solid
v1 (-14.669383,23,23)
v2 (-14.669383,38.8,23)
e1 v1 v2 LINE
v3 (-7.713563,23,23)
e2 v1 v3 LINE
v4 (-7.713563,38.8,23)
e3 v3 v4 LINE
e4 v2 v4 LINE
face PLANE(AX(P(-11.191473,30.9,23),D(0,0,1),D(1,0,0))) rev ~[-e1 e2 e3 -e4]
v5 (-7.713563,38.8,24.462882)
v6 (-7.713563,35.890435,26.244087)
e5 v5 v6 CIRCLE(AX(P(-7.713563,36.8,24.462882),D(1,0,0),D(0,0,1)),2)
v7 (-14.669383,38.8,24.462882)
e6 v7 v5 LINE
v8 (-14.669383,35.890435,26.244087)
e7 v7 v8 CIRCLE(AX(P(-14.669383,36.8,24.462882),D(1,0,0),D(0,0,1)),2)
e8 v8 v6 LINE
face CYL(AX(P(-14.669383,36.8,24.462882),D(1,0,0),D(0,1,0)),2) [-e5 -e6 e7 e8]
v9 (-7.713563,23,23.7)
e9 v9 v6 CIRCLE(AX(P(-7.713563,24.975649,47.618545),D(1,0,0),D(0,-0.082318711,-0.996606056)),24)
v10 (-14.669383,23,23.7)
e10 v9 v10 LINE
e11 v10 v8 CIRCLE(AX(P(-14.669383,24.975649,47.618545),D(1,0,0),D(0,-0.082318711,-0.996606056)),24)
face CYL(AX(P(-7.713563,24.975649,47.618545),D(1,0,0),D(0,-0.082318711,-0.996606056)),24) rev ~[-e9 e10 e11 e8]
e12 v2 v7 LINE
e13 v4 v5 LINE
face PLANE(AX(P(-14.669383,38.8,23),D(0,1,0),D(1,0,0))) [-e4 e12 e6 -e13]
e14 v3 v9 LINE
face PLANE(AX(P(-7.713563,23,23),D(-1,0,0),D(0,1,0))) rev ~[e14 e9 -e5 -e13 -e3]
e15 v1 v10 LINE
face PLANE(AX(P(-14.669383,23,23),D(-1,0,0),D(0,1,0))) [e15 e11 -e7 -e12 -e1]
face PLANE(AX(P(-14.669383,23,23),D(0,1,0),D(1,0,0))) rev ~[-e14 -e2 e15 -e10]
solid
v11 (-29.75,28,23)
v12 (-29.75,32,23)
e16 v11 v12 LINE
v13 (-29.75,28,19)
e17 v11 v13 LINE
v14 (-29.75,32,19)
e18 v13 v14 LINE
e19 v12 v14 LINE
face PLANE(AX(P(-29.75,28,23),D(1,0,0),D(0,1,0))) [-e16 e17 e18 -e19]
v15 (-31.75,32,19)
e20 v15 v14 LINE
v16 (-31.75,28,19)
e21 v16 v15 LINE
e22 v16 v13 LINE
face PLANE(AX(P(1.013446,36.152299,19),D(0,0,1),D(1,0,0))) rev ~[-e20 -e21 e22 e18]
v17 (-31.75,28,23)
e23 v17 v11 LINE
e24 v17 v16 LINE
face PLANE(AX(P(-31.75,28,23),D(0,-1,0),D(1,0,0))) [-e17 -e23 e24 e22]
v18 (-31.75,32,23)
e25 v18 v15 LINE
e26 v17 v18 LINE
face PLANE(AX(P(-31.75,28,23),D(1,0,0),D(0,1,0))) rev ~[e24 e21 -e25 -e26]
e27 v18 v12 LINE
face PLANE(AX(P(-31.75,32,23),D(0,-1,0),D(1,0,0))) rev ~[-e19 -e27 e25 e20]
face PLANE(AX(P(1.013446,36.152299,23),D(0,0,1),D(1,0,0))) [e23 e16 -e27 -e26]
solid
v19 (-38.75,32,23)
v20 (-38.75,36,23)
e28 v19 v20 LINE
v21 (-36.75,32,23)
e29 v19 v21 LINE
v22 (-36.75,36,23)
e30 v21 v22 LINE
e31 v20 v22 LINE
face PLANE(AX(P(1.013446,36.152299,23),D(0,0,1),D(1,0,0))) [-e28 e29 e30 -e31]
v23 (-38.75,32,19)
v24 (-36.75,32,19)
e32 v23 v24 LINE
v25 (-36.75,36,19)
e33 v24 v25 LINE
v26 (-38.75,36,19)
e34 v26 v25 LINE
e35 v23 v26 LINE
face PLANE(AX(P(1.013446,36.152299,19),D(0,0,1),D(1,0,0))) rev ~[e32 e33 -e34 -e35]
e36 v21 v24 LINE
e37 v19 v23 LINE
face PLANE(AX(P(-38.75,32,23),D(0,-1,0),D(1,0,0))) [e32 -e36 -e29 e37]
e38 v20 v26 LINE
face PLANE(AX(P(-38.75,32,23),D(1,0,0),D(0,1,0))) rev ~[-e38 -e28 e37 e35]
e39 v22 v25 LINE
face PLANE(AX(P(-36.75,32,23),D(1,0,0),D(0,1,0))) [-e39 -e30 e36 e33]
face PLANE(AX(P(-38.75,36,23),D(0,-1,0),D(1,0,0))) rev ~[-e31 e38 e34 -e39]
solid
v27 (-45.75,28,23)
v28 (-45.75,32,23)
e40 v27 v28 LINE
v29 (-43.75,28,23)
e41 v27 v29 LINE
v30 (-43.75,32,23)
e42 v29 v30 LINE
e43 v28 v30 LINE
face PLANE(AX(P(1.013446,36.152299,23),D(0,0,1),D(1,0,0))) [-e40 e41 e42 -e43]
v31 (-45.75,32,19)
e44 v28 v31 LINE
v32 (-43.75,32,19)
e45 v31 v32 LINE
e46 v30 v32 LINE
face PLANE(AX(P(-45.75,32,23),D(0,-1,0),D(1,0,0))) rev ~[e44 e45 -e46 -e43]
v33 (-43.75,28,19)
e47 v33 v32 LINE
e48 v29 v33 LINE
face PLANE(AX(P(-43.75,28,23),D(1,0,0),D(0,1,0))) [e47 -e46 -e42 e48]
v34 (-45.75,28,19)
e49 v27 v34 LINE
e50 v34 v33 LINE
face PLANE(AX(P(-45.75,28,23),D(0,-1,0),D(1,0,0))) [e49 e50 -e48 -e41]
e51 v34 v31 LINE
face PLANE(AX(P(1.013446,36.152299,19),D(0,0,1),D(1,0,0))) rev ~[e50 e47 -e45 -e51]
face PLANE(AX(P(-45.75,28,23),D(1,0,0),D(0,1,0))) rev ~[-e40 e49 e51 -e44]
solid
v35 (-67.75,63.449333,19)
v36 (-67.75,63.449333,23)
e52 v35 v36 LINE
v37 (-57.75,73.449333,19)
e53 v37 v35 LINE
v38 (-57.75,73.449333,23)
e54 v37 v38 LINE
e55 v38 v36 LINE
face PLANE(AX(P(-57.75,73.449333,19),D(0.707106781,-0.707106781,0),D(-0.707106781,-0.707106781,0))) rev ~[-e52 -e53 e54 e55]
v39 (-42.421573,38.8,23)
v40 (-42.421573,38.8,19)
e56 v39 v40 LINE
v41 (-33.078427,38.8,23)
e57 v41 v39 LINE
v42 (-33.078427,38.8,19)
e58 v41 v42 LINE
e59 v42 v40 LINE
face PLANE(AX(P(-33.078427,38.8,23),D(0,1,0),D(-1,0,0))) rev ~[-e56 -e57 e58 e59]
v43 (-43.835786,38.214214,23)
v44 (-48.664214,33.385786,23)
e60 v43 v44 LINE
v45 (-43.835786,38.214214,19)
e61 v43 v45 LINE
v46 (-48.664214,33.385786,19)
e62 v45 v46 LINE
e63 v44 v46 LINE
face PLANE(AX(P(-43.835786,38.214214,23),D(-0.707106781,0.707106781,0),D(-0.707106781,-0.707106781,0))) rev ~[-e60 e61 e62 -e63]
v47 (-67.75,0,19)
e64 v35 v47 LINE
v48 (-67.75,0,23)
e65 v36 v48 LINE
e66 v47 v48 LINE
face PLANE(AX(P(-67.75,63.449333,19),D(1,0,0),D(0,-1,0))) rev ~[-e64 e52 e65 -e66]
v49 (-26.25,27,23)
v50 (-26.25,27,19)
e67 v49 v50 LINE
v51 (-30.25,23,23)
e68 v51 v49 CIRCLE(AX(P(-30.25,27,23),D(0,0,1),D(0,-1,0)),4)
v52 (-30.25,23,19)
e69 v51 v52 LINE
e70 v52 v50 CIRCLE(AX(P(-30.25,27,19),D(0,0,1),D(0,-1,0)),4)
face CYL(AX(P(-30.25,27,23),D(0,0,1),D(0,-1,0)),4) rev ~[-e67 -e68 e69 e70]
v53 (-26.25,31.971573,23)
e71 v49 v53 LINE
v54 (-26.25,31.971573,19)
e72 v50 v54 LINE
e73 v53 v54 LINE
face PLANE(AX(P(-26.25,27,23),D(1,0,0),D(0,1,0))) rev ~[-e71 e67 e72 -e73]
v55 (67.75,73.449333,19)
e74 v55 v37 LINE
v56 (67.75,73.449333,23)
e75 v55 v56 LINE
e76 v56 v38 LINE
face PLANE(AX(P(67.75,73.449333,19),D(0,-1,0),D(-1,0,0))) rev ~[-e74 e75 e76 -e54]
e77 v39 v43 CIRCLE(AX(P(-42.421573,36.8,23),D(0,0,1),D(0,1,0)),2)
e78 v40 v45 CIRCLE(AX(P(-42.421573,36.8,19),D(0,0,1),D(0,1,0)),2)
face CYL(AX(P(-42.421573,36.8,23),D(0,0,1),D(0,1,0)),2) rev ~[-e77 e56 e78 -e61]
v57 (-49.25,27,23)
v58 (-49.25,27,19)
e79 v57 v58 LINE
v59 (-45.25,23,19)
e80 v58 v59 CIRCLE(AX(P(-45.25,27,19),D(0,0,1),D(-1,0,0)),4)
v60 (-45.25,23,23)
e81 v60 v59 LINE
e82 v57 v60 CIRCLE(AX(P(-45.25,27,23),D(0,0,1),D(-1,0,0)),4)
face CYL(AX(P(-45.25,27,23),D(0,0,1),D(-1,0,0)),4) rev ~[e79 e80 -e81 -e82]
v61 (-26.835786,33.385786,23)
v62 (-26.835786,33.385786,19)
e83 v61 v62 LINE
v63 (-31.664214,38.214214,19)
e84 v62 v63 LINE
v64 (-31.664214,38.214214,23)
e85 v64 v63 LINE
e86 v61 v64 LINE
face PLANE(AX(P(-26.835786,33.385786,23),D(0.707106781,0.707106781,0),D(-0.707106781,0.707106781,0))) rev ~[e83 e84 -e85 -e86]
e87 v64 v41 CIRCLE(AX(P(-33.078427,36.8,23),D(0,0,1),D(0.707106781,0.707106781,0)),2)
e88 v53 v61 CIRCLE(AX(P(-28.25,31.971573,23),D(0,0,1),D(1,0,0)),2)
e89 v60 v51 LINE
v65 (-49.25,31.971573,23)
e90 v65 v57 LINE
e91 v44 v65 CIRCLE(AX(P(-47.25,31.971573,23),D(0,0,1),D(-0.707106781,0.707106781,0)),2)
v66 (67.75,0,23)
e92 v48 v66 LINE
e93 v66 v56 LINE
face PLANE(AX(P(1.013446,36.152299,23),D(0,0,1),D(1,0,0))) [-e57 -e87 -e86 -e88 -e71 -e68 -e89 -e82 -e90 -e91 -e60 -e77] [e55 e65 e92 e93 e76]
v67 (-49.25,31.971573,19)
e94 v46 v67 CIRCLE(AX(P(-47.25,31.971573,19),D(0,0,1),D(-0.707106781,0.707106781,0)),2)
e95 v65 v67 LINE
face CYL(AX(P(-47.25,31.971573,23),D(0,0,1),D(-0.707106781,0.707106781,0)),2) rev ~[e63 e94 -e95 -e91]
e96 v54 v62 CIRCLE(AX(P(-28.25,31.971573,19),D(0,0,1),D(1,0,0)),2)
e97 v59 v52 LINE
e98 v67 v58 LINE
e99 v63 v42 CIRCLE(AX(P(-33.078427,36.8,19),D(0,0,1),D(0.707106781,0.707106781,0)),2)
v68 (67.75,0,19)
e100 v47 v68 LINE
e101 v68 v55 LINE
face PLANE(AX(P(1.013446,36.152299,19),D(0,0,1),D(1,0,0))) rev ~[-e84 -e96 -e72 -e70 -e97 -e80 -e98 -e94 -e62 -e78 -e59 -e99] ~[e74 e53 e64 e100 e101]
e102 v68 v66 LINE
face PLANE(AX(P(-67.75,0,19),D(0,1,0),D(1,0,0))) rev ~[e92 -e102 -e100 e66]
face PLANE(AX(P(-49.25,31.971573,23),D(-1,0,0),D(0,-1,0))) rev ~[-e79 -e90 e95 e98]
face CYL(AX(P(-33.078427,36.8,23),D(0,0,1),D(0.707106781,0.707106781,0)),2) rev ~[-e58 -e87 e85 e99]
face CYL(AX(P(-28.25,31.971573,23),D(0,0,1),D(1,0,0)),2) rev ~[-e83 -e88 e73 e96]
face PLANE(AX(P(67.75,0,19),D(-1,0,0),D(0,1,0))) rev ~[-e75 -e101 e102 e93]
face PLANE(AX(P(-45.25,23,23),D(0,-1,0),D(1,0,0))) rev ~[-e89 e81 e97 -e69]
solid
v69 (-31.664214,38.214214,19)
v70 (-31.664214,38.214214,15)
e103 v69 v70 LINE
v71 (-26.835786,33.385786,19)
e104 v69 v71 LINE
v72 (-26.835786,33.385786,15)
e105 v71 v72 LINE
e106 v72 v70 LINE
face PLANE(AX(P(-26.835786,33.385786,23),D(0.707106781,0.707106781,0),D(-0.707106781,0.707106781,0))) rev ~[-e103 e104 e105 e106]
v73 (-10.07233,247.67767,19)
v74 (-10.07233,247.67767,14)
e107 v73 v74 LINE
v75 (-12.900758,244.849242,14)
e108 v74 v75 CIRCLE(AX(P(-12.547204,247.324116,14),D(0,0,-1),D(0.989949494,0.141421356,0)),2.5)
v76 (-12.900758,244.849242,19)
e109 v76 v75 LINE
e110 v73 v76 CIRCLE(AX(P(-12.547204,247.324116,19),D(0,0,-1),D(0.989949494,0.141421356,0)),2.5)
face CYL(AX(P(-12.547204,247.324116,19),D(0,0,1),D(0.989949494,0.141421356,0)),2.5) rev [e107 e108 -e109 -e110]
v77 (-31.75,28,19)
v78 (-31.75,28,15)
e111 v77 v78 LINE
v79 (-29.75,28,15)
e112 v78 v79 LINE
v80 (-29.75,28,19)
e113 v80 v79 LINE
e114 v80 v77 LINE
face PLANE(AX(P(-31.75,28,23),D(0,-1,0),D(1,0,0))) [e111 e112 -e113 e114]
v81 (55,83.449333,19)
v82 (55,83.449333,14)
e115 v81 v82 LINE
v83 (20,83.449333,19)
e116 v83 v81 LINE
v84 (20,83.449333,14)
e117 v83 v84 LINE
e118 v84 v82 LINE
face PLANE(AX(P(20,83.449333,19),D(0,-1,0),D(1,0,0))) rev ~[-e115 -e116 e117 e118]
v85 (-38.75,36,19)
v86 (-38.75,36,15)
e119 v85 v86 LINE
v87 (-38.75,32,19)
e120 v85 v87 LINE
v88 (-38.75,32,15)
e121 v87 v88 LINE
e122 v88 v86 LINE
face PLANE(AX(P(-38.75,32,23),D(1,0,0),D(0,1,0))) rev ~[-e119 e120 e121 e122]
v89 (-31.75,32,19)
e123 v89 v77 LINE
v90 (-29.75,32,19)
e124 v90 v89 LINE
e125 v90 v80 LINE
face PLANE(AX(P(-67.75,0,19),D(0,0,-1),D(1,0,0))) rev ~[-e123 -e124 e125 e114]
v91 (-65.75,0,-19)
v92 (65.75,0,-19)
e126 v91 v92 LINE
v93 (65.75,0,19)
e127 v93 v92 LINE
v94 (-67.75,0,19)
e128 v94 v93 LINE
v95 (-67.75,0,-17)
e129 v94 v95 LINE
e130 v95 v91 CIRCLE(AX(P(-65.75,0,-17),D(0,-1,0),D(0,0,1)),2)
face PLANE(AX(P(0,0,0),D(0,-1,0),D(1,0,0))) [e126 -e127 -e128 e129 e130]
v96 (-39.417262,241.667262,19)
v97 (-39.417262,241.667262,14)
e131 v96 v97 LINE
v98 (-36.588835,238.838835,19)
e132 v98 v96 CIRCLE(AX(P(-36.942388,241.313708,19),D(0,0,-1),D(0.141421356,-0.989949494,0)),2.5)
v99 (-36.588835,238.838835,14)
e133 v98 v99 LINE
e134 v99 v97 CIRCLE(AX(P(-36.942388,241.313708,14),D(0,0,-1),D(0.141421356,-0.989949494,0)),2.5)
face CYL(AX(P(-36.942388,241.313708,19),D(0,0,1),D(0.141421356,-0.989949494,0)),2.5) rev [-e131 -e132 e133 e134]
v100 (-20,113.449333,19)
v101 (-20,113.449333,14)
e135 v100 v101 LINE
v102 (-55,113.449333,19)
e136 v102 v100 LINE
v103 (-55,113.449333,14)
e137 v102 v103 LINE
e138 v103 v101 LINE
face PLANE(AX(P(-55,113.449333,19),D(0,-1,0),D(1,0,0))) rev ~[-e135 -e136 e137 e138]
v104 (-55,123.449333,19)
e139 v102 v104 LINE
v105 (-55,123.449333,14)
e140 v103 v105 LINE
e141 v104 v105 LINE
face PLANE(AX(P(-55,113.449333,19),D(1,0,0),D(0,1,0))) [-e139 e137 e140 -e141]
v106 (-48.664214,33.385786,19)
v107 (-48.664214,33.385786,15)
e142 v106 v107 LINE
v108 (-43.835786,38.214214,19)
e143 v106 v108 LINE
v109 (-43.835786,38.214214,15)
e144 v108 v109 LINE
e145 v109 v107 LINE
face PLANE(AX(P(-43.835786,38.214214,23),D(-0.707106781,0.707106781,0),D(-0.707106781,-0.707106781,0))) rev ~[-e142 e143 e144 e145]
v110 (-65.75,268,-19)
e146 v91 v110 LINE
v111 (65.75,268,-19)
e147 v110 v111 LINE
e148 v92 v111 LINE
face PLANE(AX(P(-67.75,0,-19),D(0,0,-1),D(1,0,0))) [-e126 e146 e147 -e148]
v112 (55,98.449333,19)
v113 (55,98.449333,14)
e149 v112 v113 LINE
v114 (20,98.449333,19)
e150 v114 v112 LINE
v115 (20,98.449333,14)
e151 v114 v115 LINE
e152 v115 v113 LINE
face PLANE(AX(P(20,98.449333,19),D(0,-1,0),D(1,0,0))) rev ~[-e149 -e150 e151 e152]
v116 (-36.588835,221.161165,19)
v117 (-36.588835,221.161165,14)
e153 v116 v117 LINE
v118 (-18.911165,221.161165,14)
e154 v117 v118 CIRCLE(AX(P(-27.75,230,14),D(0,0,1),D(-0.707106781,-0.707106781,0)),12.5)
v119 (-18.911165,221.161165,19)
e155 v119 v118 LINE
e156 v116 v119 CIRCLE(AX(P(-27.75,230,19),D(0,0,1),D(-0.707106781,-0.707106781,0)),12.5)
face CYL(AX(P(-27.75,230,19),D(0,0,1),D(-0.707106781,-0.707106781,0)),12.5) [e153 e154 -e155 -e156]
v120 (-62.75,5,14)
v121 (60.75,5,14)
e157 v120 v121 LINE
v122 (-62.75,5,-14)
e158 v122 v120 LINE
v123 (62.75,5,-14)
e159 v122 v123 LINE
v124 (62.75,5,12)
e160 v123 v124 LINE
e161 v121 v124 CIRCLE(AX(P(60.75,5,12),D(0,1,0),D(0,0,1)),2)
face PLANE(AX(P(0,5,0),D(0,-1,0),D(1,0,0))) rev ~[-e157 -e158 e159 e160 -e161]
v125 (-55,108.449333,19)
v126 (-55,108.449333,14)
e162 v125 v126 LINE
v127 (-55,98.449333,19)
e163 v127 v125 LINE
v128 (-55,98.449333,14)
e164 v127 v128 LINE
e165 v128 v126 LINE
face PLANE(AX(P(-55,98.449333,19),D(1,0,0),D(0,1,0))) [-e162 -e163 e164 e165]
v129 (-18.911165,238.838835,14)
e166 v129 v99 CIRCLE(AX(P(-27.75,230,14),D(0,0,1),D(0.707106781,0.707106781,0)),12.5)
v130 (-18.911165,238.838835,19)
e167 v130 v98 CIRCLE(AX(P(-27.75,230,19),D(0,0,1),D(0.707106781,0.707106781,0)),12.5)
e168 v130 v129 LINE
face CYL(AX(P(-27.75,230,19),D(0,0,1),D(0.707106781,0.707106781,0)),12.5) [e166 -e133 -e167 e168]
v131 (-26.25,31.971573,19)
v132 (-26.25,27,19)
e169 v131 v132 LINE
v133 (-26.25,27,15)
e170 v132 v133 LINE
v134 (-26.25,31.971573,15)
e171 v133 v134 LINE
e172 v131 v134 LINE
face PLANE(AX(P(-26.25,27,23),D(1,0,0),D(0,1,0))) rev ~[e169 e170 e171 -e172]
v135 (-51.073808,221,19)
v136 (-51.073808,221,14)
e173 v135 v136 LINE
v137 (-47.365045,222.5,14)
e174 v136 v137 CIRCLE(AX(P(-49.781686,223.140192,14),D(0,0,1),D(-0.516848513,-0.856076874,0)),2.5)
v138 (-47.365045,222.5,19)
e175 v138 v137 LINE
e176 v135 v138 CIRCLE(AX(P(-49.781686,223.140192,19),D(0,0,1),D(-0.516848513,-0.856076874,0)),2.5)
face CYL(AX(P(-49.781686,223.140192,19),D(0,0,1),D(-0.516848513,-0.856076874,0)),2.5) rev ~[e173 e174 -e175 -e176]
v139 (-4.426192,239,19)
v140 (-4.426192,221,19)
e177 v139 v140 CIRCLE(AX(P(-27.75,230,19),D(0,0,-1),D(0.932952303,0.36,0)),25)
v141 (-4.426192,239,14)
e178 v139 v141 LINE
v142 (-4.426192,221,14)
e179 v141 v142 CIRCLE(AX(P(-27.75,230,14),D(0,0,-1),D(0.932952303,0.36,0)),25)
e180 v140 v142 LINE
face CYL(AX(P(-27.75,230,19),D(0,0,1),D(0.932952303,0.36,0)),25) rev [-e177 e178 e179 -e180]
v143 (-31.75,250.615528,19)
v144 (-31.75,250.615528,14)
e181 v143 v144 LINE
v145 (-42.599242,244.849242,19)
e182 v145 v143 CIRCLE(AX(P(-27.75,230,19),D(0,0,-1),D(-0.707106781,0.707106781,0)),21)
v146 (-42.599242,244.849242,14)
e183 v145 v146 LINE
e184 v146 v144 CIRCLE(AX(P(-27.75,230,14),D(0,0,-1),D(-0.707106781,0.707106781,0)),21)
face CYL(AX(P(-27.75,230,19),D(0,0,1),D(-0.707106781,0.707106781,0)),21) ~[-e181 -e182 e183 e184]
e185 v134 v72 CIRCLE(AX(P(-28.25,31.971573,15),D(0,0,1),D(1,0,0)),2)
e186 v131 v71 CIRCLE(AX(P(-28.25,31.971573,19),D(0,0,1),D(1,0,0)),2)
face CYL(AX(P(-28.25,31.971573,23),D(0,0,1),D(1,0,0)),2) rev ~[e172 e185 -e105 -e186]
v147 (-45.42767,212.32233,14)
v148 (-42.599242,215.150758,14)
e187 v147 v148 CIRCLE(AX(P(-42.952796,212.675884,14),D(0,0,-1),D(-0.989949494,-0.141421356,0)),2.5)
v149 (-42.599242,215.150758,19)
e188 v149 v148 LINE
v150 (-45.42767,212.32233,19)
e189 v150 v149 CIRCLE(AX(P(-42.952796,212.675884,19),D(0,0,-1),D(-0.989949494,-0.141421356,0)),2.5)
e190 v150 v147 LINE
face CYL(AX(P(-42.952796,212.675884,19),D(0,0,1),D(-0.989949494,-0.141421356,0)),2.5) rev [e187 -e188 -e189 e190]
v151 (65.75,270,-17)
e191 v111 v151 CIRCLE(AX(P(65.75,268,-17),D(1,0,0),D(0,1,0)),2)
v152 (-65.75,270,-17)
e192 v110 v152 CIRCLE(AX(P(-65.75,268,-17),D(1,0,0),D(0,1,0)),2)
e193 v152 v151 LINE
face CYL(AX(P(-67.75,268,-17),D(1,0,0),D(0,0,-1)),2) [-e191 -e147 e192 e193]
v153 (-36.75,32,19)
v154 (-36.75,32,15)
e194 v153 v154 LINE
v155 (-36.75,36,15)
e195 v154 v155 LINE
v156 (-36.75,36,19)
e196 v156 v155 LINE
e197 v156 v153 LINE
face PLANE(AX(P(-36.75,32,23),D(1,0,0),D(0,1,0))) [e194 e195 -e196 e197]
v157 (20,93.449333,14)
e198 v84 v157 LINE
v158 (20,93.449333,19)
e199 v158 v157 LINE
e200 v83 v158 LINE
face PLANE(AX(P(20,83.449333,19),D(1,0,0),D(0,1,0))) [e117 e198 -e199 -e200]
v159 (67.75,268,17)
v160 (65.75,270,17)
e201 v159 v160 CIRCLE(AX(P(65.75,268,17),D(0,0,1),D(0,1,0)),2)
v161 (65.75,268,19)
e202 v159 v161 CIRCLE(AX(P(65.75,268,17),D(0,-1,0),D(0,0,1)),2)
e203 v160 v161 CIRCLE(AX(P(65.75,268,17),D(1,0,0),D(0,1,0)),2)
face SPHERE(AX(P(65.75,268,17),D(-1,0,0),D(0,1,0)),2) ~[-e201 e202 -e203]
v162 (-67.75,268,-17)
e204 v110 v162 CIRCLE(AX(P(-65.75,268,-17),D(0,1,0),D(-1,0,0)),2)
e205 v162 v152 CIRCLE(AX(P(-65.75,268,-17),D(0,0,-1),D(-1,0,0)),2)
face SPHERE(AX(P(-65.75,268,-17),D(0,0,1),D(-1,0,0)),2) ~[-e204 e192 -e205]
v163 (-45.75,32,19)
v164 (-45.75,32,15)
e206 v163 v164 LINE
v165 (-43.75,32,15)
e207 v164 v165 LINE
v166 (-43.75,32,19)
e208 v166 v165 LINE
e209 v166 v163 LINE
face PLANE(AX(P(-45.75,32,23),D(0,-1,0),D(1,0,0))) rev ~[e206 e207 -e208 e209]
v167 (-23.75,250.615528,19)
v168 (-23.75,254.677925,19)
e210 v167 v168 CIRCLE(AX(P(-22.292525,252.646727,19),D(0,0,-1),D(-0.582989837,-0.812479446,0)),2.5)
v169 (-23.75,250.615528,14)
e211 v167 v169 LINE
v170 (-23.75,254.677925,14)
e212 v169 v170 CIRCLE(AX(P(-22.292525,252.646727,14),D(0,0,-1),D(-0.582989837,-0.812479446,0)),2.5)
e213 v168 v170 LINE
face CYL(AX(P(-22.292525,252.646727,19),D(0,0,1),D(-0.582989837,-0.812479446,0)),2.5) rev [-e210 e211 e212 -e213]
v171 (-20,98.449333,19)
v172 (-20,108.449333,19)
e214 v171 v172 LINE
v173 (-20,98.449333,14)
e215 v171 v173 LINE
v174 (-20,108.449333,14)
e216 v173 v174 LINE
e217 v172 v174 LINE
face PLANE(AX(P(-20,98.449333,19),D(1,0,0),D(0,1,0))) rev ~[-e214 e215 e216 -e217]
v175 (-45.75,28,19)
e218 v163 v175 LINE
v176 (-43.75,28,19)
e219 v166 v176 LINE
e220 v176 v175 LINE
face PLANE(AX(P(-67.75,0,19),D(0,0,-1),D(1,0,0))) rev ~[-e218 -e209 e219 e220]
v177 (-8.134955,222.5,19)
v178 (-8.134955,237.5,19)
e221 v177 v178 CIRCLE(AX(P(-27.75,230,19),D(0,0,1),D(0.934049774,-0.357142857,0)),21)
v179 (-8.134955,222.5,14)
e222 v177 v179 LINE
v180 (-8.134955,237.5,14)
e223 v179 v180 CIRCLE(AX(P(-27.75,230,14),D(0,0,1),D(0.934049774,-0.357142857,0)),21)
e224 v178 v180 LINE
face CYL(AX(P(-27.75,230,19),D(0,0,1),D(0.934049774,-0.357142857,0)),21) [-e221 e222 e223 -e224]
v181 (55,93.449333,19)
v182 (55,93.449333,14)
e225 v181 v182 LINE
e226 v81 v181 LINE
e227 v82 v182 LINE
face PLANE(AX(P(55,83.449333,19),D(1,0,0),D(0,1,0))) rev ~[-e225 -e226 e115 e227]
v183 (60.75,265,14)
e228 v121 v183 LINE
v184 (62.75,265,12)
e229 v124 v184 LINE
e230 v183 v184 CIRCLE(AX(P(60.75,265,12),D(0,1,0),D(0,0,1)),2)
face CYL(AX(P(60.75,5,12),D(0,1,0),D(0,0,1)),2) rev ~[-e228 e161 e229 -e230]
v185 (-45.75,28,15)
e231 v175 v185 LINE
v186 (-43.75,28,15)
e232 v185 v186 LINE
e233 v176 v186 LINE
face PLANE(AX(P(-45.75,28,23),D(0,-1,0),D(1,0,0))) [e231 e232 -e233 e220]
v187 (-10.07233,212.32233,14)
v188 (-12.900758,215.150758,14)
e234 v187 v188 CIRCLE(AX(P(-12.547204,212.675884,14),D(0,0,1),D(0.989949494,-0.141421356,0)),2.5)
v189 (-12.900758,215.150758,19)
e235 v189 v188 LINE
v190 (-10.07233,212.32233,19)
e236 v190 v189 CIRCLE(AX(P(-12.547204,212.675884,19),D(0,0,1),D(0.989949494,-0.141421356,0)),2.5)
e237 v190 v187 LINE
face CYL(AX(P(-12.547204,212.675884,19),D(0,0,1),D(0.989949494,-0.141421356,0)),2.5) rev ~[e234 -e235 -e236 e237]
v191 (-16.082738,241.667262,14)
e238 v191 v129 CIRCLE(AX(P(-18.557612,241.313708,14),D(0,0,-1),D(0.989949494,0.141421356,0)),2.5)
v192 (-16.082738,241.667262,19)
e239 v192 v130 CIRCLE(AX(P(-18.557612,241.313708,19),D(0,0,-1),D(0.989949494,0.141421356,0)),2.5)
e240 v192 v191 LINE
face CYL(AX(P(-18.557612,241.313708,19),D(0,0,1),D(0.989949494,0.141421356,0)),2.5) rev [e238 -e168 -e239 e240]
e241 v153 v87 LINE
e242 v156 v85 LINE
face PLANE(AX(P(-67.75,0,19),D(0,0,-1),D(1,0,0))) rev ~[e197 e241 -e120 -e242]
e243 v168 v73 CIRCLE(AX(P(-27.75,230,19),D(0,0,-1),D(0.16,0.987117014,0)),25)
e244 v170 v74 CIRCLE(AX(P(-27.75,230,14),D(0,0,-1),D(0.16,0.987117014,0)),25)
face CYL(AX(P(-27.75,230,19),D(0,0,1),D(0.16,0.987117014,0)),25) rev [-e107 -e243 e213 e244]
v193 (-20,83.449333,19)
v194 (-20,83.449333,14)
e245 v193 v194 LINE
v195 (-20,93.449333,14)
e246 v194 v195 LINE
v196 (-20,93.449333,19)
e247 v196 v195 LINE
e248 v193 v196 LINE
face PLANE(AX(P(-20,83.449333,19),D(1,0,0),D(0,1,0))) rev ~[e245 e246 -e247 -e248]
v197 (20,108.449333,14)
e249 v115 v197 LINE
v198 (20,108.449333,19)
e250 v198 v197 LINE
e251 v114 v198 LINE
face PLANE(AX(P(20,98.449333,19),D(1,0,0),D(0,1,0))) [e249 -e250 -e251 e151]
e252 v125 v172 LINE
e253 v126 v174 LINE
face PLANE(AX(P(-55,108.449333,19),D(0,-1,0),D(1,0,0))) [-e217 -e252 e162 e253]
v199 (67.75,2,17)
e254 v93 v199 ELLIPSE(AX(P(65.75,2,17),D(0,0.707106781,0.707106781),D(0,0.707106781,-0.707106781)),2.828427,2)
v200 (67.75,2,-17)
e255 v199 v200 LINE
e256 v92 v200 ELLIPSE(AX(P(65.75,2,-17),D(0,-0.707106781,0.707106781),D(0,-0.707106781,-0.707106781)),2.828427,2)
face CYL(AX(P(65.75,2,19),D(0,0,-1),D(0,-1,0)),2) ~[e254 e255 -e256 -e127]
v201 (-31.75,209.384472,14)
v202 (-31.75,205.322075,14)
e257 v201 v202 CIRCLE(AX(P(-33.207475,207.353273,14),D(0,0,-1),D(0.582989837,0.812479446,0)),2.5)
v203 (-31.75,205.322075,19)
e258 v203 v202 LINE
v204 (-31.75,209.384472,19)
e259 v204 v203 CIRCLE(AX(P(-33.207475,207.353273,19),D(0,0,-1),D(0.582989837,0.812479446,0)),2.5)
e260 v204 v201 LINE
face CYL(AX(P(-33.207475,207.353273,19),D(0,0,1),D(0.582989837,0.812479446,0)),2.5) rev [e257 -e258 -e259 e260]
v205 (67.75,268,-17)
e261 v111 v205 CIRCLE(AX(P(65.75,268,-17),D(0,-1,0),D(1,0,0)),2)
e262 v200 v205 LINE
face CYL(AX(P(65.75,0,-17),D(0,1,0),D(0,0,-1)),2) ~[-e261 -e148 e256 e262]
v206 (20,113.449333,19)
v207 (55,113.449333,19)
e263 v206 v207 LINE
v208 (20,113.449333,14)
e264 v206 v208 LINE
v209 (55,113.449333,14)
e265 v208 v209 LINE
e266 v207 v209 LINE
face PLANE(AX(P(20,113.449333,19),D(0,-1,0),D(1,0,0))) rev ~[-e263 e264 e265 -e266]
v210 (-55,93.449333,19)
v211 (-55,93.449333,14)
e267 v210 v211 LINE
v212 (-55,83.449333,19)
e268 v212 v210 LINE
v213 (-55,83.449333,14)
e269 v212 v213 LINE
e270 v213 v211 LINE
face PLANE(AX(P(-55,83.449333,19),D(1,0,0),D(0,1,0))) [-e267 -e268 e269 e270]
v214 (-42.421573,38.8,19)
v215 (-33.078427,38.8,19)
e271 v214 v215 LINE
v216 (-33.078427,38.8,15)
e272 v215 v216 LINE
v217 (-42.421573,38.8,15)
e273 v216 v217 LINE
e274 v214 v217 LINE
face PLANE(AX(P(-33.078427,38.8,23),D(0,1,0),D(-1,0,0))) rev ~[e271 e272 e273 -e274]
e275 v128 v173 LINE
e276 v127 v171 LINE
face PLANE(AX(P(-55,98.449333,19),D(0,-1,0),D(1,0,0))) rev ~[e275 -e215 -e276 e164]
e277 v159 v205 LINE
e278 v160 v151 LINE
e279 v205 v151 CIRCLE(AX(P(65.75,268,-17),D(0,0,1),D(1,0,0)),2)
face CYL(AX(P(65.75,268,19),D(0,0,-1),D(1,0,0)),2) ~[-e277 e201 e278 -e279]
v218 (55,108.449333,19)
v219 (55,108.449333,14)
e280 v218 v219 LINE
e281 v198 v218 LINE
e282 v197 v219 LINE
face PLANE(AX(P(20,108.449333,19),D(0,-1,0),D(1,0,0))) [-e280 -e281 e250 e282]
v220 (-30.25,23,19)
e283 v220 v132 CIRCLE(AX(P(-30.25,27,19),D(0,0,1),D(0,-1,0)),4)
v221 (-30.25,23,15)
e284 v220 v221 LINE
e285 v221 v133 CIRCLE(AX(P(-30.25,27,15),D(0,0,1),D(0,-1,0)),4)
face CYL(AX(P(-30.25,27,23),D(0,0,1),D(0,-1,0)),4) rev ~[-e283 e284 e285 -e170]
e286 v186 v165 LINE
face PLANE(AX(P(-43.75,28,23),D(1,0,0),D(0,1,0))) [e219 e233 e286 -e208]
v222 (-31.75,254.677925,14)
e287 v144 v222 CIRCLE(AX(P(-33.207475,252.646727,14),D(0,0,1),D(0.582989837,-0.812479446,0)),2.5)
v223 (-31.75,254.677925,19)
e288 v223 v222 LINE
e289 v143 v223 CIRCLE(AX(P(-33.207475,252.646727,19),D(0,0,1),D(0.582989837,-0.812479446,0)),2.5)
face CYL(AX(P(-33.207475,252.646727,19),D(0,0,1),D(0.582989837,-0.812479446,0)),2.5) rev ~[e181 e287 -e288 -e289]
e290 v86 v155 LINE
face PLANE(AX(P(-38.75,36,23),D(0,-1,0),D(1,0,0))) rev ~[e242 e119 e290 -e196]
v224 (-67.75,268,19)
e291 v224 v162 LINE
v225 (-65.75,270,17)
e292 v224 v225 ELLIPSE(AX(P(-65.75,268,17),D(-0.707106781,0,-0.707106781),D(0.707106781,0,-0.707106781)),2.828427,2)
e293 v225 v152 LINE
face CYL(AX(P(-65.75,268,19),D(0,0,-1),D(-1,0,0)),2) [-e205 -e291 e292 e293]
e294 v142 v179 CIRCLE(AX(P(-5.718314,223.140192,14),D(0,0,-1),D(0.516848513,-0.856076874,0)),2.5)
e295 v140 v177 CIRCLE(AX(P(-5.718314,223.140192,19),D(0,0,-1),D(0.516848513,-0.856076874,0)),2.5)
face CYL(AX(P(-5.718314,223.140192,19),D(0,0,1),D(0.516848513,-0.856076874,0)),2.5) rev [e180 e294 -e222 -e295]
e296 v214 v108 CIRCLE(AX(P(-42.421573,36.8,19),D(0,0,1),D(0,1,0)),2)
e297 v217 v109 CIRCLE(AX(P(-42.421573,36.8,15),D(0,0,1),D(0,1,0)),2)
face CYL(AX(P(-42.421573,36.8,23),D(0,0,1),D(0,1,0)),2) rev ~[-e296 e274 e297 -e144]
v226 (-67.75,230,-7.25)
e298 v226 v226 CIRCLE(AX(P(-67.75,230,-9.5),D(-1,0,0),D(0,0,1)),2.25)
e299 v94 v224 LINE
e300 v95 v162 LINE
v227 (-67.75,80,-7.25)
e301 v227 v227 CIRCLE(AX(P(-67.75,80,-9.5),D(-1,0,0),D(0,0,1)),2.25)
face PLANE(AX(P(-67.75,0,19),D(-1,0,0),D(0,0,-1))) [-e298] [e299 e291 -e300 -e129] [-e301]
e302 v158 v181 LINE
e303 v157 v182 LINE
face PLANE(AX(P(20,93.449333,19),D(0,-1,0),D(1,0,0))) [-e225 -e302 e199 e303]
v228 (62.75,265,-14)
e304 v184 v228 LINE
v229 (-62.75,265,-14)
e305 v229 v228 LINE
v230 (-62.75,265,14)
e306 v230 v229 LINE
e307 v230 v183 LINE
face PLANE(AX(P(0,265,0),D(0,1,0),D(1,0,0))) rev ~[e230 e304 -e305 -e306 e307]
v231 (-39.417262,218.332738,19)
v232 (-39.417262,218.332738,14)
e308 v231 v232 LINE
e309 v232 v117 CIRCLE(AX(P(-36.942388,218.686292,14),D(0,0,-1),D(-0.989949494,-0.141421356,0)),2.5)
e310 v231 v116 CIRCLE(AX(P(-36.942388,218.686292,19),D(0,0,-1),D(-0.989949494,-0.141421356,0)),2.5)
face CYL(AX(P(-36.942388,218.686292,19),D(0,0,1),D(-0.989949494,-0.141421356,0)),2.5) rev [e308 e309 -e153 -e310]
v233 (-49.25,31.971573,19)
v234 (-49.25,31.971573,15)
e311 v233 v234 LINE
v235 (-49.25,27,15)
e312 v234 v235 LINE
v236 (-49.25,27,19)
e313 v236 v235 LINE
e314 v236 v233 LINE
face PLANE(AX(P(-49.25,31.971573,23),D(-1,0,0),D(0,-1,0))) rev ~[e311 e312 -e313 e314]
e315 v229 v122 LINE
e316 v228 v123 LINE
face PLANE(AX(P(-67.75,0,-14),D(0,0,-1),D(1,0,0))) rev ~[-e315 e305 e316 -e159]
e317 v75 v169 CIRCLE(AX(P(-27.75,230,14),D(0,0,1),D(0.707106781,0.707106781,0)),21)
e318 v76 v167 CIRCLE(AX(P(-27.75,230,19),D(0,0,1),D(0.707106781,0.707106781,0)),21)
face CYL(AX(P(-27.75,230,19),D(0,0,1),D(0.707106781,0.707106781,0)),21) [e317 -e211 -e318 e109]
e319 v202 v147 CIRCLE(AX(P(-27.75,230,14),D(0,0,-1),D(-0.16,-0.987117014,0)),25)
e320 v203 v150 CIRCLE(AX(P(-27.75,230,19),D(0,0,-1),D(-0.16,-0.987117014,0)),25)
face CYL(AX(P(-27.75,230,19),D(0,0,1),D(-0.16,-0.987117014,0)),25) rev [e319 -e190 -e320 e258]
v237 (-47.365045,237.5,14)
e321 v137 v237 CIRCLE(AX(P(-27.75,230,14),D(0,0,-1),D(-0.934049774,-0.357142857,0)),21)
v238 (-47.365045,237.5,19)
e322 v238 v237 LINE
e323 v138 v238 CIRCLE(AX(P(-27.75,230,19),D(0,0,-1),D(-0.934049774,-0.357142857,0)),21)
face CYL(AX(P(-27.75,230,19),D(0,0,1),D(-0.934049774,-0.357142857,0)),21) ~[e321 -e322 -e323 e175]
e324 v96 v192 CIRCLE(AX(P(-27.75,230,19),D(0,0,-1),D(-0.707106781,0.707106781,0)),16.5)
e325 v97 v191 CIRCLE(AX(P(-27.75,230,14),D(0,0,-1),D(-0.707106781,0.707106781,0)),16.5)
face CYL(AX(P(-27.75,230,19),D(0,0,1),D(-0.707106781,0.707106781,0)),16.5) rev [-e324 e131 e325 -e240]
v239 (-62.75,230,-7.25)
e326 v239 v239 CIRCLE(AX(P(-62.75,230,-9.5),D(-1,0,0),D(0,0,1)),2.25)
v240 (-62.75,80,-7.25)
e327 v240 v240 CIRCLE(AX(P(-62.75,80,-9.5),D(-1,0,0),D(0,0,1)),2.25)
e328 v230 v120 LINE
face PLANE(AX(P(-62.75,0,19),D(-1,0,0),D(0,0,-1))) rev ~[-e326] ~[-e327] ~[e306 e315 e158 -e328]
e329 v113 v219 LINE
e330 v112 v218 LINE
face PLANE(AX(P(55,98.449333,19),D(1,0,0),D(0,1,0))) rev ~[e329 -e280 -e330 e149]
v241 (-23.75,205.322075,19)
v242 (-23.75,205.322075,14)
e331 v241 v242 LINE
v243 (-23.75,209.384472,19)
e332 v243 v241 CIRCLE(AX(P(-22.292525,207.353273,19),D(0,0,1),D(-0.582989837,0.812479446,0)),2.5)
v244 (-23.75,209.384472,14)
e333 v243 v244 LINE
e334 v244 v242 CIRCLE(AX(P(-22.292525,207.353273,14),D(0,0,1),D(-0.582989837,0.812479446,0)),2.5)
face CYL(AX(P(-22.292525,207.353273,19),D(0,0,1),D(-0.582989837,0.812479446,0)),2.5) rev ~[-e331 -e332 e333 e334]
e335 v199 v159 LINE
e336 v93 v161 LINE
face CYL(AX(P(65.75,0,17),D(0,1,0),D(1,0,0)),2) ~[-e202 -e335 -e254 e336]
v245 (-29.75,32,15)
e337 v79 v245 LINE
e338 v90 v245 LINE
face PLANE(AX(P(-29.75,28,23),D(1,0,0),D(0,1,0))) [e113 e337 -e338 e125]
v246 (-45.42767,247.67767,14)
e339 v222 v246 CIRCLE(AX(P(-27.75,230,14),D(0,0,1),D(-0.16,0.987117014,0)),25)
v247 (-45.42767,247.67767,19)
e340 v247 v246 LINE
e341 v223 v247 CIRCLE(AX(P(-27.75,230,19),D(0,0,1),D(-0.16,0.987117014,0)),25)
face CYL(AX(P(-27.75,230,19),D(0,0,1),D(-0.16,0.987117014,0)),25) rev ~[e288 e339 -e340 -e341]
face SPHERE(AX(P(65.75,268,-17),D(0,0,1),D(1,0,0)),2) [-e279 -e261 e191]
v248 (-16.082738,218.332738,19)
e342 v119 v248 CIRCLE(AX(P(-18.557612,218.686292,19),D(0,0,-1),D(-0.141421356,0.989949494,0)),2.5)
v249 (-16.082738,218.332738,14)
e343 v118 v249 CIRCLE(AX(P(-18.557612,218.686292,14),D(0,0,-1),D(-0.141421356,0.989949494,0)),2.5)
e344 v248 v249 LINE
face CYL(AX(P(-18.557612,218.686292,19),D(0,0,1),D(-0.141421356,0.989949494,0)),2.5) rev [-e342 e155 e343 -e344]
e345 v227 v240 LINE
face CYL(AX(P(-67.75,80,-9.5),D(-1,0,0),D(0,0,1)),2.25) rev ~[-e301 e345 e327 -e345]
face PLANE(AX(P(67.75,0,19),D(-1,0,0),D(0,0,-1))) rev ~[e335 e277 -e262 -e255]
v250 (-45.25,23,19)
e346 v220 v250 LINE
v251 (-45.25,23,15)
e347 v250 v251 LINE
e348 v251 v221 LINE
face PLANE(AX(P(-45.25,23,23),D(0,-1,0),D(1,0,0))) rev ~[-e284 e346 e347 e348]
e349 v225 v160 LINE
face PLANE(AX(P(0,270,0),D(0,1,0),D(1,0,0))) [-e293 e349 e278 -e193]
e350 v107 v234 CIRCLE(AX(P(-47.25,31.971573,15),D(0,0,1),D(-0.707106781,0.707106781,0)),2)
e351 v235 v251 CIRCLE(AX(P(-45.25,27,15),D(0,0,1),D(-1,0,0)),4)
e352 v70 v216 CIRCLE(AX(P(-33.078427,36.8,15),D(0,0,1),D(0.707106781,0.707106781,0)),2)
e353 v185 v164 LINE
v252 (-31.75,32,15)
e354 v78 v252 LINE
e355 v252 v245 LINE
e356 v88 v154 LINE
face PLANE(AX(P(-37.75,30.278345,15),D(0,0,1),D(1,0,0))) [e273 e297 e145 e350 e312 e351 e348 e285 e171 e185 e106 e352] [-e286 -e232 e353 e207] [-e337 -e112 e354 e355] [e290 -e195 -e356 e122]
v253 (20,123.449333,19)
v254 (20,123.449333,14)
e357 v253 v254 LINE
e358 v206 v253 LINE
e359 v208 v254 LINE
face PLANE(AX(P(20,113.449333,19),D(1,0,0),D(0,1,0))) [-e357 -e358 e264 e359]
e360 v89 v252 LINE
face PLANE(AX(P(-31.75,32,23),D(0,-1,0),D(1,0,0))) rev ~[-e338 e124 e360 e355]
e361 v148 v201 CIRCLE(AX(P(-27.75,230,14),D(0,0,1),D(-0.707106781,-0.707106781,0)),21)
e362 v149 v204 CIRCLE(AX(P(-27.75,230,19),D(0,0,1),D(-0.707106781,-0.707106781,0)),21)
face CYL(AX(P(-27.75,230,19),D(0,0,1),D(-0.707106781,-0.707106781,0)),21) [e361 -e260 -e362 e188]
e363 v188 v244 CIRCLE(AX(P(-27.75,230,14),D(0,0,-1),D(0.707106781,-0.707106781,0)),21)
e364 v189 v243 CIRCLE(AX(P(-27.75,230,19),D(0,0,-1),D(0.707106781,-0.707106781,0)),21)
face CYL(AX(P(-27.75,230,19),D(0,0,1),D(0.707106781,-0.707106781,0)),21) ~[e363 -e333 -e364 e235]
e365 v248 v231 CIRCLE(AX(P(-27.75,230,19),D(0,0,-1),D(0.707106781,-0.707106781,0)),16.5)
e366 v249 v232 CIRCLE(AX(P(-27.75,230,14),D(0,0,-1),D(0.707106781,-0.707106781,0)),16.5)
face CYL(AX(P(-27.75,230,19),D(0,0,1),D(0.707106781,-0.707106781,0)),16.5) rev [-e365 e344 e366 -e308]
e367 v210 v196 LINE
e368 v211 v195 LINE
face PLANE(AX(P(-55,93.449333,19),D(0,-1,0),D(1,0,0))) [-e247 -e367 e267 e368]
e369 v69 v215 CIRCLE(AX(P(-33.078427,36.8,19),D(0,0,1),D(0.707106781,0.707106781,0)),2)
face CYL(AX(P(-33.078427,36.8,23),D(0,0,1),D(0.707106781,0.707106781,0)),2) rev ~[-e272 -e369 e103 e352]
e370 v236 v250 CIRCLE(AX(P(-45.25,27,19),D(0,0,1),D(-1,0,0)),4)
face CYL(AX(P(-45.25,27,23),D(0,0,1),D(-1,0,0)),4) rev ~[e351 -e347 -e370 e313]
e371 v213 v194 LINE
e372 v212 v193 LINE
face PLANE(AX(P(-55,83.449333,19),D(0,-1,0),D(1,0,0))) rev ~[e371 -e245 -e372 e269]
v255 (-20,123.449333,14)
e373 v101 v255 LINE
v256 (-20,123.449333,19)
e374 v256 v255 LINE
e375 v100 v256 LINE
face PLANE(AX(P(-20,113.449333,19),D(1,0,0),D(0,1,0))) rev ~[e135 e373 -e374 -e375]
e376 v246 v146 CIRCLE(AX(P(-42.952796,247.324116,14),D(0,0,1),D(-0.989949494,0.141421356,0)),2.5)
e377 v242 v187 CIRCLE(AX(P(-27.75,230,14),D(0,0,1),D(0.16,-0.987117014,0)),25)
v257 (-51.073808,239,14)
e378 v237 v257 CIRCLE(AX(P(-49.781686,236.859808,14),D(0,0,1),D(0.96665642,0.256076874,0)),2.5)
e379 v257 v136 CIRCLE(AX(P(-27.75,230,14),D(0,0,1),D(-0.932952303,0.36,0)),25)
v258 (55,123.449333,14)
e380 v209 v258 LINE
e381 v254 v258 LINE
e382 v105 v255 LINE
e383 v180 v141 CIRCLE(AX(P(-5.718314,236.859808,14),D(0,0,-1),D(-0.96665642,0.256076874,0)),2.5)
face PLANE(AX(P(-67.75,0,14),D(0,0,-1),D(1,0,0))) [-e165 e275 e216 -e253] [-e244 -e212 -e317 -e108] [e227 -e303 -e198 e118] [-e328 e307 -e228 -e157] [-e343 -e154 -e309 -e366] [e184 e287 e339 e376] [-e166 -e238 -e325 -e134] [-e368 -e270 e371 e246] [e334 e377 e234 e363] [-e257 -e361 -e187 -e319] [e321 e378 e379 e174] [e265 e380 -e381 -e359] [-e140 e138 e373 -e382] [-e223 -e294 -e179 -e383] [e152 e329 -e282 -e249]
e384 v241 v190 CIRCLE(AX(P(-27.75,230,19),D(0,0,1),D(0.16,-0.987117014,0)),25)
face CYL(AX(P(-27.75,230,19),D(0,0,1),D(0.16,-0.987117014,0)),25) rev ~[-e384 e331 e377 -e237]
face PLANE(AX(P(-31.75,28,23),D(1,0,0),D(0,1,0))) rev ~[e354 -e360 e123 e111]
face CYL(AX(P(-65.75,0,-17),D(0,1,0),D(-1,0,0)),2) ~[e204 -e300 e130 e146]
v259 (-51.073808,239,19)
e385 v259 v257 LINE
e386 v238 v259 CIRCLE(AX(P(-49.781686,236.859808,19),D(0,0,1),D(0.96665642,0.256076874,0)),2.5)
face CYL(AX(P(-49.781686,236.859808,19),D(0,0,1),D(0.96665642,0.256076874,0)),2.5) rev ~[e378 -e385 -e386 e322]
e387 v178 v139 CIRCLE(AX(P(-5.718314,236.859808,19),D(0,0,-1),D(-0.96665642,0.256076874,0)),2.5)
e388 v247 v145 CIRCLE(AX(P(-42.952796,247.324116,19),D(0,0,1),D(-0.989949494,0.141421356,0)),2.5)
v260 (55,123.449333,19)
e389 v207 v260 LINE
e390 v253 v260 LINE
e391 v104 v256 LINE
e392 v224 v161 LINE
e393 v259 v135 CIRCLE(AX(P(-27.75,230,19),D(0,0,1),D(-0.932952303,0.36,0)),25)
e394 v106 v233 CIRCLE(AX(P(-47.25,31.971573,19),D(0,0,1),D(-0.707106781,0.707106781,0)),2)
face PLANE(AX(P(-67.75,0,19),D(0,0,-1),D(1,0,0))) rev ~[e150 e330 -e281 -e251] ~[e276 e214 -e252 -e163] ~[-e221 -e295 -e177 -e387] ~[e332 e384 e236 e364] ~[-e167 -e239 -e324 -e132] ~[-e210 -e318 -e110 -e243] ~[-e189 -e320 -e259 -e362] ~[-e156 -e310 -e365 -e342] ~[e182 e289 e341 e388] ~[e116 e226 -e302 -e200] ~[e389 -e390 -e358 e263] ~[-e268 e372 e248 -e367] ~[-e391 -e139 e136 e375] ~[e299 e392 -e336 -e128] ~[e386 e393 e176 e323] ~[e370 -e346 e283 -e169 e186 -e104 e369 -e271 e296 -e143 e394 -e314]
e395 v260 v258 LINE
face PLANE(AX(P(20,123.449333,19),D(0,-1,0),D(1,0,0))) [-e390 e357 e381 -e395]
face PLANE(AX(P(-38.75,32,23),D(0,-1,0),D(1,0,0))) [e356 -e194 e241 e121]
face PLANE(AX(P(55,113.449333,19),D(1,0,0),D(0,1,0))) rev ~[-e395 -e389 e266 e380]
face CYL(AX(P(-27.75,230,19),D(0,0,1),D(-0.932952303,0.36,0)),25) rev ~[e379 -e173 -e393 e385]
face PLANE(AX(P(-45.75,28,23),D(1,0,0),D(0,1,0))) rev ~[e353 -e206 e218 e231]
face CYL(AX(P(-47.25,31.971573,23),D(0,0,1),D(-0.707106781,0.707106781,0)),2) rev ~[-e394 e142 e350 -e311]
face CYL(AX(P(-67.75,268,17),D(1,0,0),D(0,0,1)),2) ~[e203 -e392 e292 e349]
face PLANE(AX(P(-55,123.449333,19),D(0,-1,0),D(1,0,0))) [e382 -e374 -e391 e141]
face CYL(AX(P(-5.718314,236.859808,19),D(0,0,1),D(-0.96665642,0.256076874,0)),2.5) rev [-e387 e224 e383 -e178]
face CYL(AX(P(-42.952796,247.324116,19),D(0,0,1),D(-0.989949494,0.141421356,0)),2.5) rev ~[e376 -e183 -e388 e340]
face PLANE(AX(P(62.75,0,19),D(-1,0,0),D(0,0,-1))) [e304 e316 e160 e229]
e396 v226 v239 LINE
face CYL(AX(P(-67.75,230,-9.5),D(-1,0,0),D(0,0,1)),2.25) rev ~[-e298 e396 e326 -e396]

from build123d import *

# Parameters (mm, degrees)
SKETCH1_W           = 135.5
SKETCH1_H           = 38
BOSS_EXTRUDE1_DEPTH = 270
BOSS_EXTRUDE2_DEPTH = 4
SHELL2_T            = -5
SKETCH4_W           = 125.5
SKETCH4_H           = 28
BOSS_EXTRUDE3_DEPTH = 5
CUT_EXTRUDE1_DEPTH  = 5
CUT_EXTRUDE2_DEPTH  = 5
SKETCH7_W           = 35
SKETCH7_H           = 10
CUT_EXTRUDE3_DEPTH  = 5
FILLET1_R           = 2
SKETCH8_W           = 2
SKETCH8_H           = 4
CUT_EXTRUDE4_DEPTH  = 8
SKETCH9_W           = 6.95582013
SKETCH9_H           = 15.8
BOSS_EXTRUDE5_DEPTH = 5
SKETCH11_R          = 2.25
CUT_EXTRUDE6_DEPTH  = 5
CUT_EXTRUDE7_DEPTH  = 282.742345704
FILLET2_R           = 2


with BuildPart() as part:
    # Sketch1 → Boss-Extrude1 (new body)
    with BuildSketch(Plane(origin=(0, 0, 0), x_dir=(1, 0, 0), z_dir=(0, 1, 0))):
        Rectangle(SKETCH1_W, SKETCH1_H)
    extrude(amount=BOSS_EXTRUDE1_DEPTH)

    # Shell2
    shell2_openings = [part.faces().sort_by_distance(p)[0] for p in [
        (0, 0, 0),
    ]]
    offset(amount=SHELL2_T, openings=shell2_openings, kind=Kind.INTERSECTION)

    # Sketch4 → Boss-Extrude3 (add)
    with BuildSketch(Plane.XZ):
        Rectangle(SKETCH4_W, SKETCH4_H)
    extrude(amount=-BOSS_EXTRUDE3_DEPTH)

    # Sketch5 → Cut-Extrude1 (cut)
    with BuildSketch(Plane.XY.offset(19)):
        with BuildLine():
            ThreePointArc((-51.073807579, 239), (-52.75, 230), (-51.073807579, 221))
            ThreePointArc((-51.073807579, 221), (-48.844330346, 220.822571892), (-47.365045246, 222.5))
            ThreePointArc((-47.365045246, 222.5), (-48.75, 230), (-47.365045246, 237.5))
            ThreePointArc((-47.365045246, 237.5), (-48.844330346, 239.177428108), (-51.073807579, 239))
        make_face()
        with BuildLine():
            ThreePointArc((-45.42766953, 247.67766953), (-44.720562748, 245.556349186), (-42.599242405, 244.849242405))
            ThreePointArc((-42.599242405, 244.849242405), (-37.605759614, 248.54357038), (-31.75, 250.615528128))
            ThreePointArc((-31.75, 250.615528128), (-30.707474592, 252.646726743), (-31.75, 254.677925359))
            ThreePointArc((-31.75, 254.677925359), (-39.139962005, 252.254634698), (-45.42766953, 247.67766953))
        make_face()
        with BuildLine():
            ThreePointArc((-10.07233047, 247.67766953), (-10.779437252, 245.556349186), (-12.900757595, 244.849242405))
            ThreePointArc((-12.900757595, 244.849242405), (-17.894240386, 248.54357038), (-23.75, 250.615528128))
            ThreePointArc((-23.75, 250.615528128), (-24.792525408, 252.646726743), (-23.75, 254.677925359))
            ThreePointArc((-23.75, 254.677925359), (-16.360037995, 252.254634698), (-10.07233047, 247.67766953))
        make_face()
        with BuildLine():
            ThreePointArc((-45.42766953, 212.32233047), (-44.720562748, 214.443650814), (-42.599242405, 215.150757595))
            ThreePointArc((-42.599242405, 215.150757595), (-37.605759614, 211.45642962), (-31.75, 209.384471872))
            ThreePointArc((-31.75, 209.384471872), (-30.707474592, 207.353273257), (-31.75, 205.322074641))
            ThreePointArc((-31.75, 205.322074641), (-39.139962005, 207.745365302), (-45.42766953, 212.32233047))
        make_face()
        with BuildLine():
            ThreePointArc((-10.07233047, 212.32233047), (-10.779437252, 214.443650814), (-12.900757595, 215.150757595))
            ThreePointArc((-12.900757595, 215.150757595), (-17.894240386, 211.45642962), (-23.75, 209.384471872))
            ThreePointArc((-23.75, 209.384471872), (-24.792525408, 207.353273257), (-23.75, 205.322074641))
            ThreePointArc((-23.75, 205.322074641), (-16.360037995, 207.745365302), (-10.07233047, 212.32233047))
        make_face()
        with BuildLine():
            ThreePointArc((-4.426192421, 221), (-6.655669654, 220.822571892), (-8.134954754, 222.5))
            ThreePointArc((-8.134954754, 222.5), (-6.75, 230), (-8.134954754, 237.5))
            ThreePointArc((-8.134954754, 237.5), (-6.655669654, 239.177428108), (-4.426192421, 239))
            ThreePointArc((-4.426192421, 239), (-2.75, 230), (-4.426192421, 221))
        make_face()
    extrude(amount=-CUT_EXTRUDE1_DEPTH, mode=Mode.SUBTRACT)

    # Sketch6 → Cut-Extrude2 (cut)
    with BuildSketch(Plane.XY.offset(19)):
        with BuildLine():
            ThreePointArc((-36.588834765, 221.161165235), (-27.75, 217.5), (-18.911165235, 221.161165235))
            ThreePointArc((-18.911165235, 221.161165235), (-16.789844892, 220.454058454), (-16.08273811, 218.33273811))
            ThreePointArc((-16.08273811, 218.33273811), (-27.75, 213.5), (-39.41726189, 218.33273811))
            ThreePointArc((-39.41726189, 218.33273811), (-38.710155108, 220.454058454), (-36.588834765, 221.161165235))
        make_face()
        with BuildLine():
            ThreePointArc((-16.08273811, 241.66726189), (-16.789844892, 239.545941546), (-18.911165235, 238.838834765))
            ThreePointArc((-18.911165235, 238.838834765), (-27.75, 242.5), (-36.588834765, 238.838834765))
            ThreePointArc((-36.588834765, 238.838834765), (-38.710155108, 239.545941546), (-39.41726189, 241.66726189))
            ThreePointArc((-39.41726189, 241.66726189), (-27.75, 246.5), (-16.08273811, 241.66726189))
        make_face()
    extrude(amount=-CUT_EXTRUDE2_DEPTH, mode=Mode.SUBTRACT)

    # Sketch7 → Cut-Extrude3 (cut)
    with BuildSketch(Plane.XY.offset(19)):
        with Locations((37.5, 88.449332994)):
            Rectangle(SKETCH7_W, SKETCH7_H)
        with Locations((-37.5, 88.449332994)):
            Rectangle(SKETCH7_W, SKETCH7_H)
        with Locations((-37.5, 103.449332994)):
            Rectangle(SKETCH7_W, SKETCH7_H)
        with Locations((37.5, 103.449332994)):
            Rectangle(SKETCH7_W, SKETCH7_H)
        with Locations((-37.5, 118.449332994)):
            Rectangle(SKETCH7_W, SKETCH7_H)
        with Locations((37.5, 118.449332994)):
            Rectangle(SKETCH7_W, SKETCH7_H)
    extrude(amount=-CUT_EXTRUDE3_DEPTH, mode=Mode.SUBTRACT)

    # Fillet1
    fillet1_edges = [part.edges().sort_by_distance(p)[0] for p in [
        (-67.75, 270, 0),
        (62.75, 135, 14),
        (0, 270, 19),
        (67.75, 270, 0),
        (67.75, 0, 0),
        (67.75, 135, 19),
        (-67.75, 135, -19),
        (67.75, 135, -19),
        (0, 270, -19),
    ]]
    fillet(fillet1_edges, radius=FILLET1_R)


with BuildPart() as body_2:
    # Sketch3 → Boss-Extrude2 (new body)
    with BuildSketch(Plane.XY.offset(19)):
        Polygon((-67.75, 0), (67.75, 0), (67.75, 73.449332994), (-57.75, 73.449332994), (-67.75, 63.449332994), align=None)
    extrude(amount=BOSS_EXTRUDE2_DEPTH)


with BuildPart() as cut_extrude4_tool:
    # Sketch8 → Cut-Extrude4 (new body)
    with BuildSketch(Plane.XY.offset(23)):
        with BuildLine():
            Line((-45.25, 23), (-30.25, 23))
            ThreePointArc((-30.25, 23), (-27.421572875, 24.171572875), (-26.25, 27))
            Line((-26.25, 27), (-26.25, 31.971572875))
            ThreePointArc((-26.25, 31.971572875), (-26.402240935, 32.73693974), (-26.835786438, 33.385786438))
            Line((-26.835786438, 33.385786438), (-31.664213562, 38.214213562))
            ThreePointArc((-31.664213562, 38.214213562), (-32.31306026, 38.647759065), (-33.078427125, 38.8))
            Line((-33.078427125, 38.8), (-42.421572875, 38.8))
            ThreePointArc((-42.421572875, 38.8), (-43.18693974, 38.647759065), (-43.835786438, 38.214213562))
            Line((-43.835786438, 38.214213562), (-48.664213562, 33.385786438))
            ThreePointArc((-48.664213562, 33.385786438), (-49.097759065, 32.73693974), (-49.25, 31.971572875))
            Line((-49.25, 31.971572875), (-49.25, 27))
            ThreePointArc((-49.25, 27), (-48.078427125, 24.171572875), (-45.25, 23))
        make_face()
        with Locations((-37.75, 34)):
            Rectangle(SKETCH8_W, SKETCH8_H, mode=Mode.SUBTRACT)
        with Locations((-44.75, 30)):
            Rectangle(SKETCH8_W, SKETCH8_H, mode=Mode.SUBTRACT)
        with Locations((-30.75, 30)):
            Rectangle(SKETCH8_W, SKETCH8_H, mode=Mode.SUBTRACT)
    extrude(amount=-CUT_EXTRUDE4_DEPTH)


with BuildPart() as part_1:
    add(part.part)

    # Cut-Extrude4: cut by cut_extrude4_tool
    add(cut_extrude4_tool.part, mode=Mode.SUBTRACT)

    # Sketch11 → Cut-Extrude6 (cut)
    with BuildSketch(Plane.ZY.offset(67.75)):
        with Locations((-9.5, 230)):
            Circle(SKETCH11_R)
        with Locations((-9.5, 80)):
            Circle(SKETCH11_R)
    extrude(amount=-CUT_EXTRUDE6_DEPTH, mode=Mode.SUBTRACT)


with BuildPart() as body_2_1:
    add(body_2.part)

    # Cut-Extrude4: cut by cut_extrude4_tool
    add(cut_extrude4_tool.part, mode=Mode.SUBTRACT)


with BuildPart() as body_3:
    # Sketch9 → Boss-Extrude5 (new body)
    with BuildSketch(Plane.XY.offset(23)):
        with Locations((-11.191473213, 30.9)):
            Rectangle(SKETCH9_W, SKETCH9_H)
    extrude(amount=BOSS_EXTRUDE5_DEPTH)

    # Sketch10 → Cut-Extrude7 (cut, through all)
    with BuildSketch(Plane(origin=(-7.713563148, 0, 0), x_dir=(0, 0, -1), z_dir=(1, 0, 0))):
        with BuildLine():
            Line((-28, 38.8), (-28, 23))
            Line((-28, 23), (-23.7, 23))
            ThreePointArc((-23.7, 23), (-24.46083461, 31.278063998), (-28, 38.8))
        make_face()
    extrude(amount=-CUT_EXTRUDE7_DEPTH, mode=Mode.SUBTRACT)

    # Fillet2
    fillet2_edges = [body_3.edges().sort_by_distance(p)[0] for p in [
        (-11.191473213, 38.8, 28),
    ]]
    fillet(fillet2_edges, radius=FILLET2_R)


solid = Compound([part_1.part, body_2_1.part, body_3.part])
